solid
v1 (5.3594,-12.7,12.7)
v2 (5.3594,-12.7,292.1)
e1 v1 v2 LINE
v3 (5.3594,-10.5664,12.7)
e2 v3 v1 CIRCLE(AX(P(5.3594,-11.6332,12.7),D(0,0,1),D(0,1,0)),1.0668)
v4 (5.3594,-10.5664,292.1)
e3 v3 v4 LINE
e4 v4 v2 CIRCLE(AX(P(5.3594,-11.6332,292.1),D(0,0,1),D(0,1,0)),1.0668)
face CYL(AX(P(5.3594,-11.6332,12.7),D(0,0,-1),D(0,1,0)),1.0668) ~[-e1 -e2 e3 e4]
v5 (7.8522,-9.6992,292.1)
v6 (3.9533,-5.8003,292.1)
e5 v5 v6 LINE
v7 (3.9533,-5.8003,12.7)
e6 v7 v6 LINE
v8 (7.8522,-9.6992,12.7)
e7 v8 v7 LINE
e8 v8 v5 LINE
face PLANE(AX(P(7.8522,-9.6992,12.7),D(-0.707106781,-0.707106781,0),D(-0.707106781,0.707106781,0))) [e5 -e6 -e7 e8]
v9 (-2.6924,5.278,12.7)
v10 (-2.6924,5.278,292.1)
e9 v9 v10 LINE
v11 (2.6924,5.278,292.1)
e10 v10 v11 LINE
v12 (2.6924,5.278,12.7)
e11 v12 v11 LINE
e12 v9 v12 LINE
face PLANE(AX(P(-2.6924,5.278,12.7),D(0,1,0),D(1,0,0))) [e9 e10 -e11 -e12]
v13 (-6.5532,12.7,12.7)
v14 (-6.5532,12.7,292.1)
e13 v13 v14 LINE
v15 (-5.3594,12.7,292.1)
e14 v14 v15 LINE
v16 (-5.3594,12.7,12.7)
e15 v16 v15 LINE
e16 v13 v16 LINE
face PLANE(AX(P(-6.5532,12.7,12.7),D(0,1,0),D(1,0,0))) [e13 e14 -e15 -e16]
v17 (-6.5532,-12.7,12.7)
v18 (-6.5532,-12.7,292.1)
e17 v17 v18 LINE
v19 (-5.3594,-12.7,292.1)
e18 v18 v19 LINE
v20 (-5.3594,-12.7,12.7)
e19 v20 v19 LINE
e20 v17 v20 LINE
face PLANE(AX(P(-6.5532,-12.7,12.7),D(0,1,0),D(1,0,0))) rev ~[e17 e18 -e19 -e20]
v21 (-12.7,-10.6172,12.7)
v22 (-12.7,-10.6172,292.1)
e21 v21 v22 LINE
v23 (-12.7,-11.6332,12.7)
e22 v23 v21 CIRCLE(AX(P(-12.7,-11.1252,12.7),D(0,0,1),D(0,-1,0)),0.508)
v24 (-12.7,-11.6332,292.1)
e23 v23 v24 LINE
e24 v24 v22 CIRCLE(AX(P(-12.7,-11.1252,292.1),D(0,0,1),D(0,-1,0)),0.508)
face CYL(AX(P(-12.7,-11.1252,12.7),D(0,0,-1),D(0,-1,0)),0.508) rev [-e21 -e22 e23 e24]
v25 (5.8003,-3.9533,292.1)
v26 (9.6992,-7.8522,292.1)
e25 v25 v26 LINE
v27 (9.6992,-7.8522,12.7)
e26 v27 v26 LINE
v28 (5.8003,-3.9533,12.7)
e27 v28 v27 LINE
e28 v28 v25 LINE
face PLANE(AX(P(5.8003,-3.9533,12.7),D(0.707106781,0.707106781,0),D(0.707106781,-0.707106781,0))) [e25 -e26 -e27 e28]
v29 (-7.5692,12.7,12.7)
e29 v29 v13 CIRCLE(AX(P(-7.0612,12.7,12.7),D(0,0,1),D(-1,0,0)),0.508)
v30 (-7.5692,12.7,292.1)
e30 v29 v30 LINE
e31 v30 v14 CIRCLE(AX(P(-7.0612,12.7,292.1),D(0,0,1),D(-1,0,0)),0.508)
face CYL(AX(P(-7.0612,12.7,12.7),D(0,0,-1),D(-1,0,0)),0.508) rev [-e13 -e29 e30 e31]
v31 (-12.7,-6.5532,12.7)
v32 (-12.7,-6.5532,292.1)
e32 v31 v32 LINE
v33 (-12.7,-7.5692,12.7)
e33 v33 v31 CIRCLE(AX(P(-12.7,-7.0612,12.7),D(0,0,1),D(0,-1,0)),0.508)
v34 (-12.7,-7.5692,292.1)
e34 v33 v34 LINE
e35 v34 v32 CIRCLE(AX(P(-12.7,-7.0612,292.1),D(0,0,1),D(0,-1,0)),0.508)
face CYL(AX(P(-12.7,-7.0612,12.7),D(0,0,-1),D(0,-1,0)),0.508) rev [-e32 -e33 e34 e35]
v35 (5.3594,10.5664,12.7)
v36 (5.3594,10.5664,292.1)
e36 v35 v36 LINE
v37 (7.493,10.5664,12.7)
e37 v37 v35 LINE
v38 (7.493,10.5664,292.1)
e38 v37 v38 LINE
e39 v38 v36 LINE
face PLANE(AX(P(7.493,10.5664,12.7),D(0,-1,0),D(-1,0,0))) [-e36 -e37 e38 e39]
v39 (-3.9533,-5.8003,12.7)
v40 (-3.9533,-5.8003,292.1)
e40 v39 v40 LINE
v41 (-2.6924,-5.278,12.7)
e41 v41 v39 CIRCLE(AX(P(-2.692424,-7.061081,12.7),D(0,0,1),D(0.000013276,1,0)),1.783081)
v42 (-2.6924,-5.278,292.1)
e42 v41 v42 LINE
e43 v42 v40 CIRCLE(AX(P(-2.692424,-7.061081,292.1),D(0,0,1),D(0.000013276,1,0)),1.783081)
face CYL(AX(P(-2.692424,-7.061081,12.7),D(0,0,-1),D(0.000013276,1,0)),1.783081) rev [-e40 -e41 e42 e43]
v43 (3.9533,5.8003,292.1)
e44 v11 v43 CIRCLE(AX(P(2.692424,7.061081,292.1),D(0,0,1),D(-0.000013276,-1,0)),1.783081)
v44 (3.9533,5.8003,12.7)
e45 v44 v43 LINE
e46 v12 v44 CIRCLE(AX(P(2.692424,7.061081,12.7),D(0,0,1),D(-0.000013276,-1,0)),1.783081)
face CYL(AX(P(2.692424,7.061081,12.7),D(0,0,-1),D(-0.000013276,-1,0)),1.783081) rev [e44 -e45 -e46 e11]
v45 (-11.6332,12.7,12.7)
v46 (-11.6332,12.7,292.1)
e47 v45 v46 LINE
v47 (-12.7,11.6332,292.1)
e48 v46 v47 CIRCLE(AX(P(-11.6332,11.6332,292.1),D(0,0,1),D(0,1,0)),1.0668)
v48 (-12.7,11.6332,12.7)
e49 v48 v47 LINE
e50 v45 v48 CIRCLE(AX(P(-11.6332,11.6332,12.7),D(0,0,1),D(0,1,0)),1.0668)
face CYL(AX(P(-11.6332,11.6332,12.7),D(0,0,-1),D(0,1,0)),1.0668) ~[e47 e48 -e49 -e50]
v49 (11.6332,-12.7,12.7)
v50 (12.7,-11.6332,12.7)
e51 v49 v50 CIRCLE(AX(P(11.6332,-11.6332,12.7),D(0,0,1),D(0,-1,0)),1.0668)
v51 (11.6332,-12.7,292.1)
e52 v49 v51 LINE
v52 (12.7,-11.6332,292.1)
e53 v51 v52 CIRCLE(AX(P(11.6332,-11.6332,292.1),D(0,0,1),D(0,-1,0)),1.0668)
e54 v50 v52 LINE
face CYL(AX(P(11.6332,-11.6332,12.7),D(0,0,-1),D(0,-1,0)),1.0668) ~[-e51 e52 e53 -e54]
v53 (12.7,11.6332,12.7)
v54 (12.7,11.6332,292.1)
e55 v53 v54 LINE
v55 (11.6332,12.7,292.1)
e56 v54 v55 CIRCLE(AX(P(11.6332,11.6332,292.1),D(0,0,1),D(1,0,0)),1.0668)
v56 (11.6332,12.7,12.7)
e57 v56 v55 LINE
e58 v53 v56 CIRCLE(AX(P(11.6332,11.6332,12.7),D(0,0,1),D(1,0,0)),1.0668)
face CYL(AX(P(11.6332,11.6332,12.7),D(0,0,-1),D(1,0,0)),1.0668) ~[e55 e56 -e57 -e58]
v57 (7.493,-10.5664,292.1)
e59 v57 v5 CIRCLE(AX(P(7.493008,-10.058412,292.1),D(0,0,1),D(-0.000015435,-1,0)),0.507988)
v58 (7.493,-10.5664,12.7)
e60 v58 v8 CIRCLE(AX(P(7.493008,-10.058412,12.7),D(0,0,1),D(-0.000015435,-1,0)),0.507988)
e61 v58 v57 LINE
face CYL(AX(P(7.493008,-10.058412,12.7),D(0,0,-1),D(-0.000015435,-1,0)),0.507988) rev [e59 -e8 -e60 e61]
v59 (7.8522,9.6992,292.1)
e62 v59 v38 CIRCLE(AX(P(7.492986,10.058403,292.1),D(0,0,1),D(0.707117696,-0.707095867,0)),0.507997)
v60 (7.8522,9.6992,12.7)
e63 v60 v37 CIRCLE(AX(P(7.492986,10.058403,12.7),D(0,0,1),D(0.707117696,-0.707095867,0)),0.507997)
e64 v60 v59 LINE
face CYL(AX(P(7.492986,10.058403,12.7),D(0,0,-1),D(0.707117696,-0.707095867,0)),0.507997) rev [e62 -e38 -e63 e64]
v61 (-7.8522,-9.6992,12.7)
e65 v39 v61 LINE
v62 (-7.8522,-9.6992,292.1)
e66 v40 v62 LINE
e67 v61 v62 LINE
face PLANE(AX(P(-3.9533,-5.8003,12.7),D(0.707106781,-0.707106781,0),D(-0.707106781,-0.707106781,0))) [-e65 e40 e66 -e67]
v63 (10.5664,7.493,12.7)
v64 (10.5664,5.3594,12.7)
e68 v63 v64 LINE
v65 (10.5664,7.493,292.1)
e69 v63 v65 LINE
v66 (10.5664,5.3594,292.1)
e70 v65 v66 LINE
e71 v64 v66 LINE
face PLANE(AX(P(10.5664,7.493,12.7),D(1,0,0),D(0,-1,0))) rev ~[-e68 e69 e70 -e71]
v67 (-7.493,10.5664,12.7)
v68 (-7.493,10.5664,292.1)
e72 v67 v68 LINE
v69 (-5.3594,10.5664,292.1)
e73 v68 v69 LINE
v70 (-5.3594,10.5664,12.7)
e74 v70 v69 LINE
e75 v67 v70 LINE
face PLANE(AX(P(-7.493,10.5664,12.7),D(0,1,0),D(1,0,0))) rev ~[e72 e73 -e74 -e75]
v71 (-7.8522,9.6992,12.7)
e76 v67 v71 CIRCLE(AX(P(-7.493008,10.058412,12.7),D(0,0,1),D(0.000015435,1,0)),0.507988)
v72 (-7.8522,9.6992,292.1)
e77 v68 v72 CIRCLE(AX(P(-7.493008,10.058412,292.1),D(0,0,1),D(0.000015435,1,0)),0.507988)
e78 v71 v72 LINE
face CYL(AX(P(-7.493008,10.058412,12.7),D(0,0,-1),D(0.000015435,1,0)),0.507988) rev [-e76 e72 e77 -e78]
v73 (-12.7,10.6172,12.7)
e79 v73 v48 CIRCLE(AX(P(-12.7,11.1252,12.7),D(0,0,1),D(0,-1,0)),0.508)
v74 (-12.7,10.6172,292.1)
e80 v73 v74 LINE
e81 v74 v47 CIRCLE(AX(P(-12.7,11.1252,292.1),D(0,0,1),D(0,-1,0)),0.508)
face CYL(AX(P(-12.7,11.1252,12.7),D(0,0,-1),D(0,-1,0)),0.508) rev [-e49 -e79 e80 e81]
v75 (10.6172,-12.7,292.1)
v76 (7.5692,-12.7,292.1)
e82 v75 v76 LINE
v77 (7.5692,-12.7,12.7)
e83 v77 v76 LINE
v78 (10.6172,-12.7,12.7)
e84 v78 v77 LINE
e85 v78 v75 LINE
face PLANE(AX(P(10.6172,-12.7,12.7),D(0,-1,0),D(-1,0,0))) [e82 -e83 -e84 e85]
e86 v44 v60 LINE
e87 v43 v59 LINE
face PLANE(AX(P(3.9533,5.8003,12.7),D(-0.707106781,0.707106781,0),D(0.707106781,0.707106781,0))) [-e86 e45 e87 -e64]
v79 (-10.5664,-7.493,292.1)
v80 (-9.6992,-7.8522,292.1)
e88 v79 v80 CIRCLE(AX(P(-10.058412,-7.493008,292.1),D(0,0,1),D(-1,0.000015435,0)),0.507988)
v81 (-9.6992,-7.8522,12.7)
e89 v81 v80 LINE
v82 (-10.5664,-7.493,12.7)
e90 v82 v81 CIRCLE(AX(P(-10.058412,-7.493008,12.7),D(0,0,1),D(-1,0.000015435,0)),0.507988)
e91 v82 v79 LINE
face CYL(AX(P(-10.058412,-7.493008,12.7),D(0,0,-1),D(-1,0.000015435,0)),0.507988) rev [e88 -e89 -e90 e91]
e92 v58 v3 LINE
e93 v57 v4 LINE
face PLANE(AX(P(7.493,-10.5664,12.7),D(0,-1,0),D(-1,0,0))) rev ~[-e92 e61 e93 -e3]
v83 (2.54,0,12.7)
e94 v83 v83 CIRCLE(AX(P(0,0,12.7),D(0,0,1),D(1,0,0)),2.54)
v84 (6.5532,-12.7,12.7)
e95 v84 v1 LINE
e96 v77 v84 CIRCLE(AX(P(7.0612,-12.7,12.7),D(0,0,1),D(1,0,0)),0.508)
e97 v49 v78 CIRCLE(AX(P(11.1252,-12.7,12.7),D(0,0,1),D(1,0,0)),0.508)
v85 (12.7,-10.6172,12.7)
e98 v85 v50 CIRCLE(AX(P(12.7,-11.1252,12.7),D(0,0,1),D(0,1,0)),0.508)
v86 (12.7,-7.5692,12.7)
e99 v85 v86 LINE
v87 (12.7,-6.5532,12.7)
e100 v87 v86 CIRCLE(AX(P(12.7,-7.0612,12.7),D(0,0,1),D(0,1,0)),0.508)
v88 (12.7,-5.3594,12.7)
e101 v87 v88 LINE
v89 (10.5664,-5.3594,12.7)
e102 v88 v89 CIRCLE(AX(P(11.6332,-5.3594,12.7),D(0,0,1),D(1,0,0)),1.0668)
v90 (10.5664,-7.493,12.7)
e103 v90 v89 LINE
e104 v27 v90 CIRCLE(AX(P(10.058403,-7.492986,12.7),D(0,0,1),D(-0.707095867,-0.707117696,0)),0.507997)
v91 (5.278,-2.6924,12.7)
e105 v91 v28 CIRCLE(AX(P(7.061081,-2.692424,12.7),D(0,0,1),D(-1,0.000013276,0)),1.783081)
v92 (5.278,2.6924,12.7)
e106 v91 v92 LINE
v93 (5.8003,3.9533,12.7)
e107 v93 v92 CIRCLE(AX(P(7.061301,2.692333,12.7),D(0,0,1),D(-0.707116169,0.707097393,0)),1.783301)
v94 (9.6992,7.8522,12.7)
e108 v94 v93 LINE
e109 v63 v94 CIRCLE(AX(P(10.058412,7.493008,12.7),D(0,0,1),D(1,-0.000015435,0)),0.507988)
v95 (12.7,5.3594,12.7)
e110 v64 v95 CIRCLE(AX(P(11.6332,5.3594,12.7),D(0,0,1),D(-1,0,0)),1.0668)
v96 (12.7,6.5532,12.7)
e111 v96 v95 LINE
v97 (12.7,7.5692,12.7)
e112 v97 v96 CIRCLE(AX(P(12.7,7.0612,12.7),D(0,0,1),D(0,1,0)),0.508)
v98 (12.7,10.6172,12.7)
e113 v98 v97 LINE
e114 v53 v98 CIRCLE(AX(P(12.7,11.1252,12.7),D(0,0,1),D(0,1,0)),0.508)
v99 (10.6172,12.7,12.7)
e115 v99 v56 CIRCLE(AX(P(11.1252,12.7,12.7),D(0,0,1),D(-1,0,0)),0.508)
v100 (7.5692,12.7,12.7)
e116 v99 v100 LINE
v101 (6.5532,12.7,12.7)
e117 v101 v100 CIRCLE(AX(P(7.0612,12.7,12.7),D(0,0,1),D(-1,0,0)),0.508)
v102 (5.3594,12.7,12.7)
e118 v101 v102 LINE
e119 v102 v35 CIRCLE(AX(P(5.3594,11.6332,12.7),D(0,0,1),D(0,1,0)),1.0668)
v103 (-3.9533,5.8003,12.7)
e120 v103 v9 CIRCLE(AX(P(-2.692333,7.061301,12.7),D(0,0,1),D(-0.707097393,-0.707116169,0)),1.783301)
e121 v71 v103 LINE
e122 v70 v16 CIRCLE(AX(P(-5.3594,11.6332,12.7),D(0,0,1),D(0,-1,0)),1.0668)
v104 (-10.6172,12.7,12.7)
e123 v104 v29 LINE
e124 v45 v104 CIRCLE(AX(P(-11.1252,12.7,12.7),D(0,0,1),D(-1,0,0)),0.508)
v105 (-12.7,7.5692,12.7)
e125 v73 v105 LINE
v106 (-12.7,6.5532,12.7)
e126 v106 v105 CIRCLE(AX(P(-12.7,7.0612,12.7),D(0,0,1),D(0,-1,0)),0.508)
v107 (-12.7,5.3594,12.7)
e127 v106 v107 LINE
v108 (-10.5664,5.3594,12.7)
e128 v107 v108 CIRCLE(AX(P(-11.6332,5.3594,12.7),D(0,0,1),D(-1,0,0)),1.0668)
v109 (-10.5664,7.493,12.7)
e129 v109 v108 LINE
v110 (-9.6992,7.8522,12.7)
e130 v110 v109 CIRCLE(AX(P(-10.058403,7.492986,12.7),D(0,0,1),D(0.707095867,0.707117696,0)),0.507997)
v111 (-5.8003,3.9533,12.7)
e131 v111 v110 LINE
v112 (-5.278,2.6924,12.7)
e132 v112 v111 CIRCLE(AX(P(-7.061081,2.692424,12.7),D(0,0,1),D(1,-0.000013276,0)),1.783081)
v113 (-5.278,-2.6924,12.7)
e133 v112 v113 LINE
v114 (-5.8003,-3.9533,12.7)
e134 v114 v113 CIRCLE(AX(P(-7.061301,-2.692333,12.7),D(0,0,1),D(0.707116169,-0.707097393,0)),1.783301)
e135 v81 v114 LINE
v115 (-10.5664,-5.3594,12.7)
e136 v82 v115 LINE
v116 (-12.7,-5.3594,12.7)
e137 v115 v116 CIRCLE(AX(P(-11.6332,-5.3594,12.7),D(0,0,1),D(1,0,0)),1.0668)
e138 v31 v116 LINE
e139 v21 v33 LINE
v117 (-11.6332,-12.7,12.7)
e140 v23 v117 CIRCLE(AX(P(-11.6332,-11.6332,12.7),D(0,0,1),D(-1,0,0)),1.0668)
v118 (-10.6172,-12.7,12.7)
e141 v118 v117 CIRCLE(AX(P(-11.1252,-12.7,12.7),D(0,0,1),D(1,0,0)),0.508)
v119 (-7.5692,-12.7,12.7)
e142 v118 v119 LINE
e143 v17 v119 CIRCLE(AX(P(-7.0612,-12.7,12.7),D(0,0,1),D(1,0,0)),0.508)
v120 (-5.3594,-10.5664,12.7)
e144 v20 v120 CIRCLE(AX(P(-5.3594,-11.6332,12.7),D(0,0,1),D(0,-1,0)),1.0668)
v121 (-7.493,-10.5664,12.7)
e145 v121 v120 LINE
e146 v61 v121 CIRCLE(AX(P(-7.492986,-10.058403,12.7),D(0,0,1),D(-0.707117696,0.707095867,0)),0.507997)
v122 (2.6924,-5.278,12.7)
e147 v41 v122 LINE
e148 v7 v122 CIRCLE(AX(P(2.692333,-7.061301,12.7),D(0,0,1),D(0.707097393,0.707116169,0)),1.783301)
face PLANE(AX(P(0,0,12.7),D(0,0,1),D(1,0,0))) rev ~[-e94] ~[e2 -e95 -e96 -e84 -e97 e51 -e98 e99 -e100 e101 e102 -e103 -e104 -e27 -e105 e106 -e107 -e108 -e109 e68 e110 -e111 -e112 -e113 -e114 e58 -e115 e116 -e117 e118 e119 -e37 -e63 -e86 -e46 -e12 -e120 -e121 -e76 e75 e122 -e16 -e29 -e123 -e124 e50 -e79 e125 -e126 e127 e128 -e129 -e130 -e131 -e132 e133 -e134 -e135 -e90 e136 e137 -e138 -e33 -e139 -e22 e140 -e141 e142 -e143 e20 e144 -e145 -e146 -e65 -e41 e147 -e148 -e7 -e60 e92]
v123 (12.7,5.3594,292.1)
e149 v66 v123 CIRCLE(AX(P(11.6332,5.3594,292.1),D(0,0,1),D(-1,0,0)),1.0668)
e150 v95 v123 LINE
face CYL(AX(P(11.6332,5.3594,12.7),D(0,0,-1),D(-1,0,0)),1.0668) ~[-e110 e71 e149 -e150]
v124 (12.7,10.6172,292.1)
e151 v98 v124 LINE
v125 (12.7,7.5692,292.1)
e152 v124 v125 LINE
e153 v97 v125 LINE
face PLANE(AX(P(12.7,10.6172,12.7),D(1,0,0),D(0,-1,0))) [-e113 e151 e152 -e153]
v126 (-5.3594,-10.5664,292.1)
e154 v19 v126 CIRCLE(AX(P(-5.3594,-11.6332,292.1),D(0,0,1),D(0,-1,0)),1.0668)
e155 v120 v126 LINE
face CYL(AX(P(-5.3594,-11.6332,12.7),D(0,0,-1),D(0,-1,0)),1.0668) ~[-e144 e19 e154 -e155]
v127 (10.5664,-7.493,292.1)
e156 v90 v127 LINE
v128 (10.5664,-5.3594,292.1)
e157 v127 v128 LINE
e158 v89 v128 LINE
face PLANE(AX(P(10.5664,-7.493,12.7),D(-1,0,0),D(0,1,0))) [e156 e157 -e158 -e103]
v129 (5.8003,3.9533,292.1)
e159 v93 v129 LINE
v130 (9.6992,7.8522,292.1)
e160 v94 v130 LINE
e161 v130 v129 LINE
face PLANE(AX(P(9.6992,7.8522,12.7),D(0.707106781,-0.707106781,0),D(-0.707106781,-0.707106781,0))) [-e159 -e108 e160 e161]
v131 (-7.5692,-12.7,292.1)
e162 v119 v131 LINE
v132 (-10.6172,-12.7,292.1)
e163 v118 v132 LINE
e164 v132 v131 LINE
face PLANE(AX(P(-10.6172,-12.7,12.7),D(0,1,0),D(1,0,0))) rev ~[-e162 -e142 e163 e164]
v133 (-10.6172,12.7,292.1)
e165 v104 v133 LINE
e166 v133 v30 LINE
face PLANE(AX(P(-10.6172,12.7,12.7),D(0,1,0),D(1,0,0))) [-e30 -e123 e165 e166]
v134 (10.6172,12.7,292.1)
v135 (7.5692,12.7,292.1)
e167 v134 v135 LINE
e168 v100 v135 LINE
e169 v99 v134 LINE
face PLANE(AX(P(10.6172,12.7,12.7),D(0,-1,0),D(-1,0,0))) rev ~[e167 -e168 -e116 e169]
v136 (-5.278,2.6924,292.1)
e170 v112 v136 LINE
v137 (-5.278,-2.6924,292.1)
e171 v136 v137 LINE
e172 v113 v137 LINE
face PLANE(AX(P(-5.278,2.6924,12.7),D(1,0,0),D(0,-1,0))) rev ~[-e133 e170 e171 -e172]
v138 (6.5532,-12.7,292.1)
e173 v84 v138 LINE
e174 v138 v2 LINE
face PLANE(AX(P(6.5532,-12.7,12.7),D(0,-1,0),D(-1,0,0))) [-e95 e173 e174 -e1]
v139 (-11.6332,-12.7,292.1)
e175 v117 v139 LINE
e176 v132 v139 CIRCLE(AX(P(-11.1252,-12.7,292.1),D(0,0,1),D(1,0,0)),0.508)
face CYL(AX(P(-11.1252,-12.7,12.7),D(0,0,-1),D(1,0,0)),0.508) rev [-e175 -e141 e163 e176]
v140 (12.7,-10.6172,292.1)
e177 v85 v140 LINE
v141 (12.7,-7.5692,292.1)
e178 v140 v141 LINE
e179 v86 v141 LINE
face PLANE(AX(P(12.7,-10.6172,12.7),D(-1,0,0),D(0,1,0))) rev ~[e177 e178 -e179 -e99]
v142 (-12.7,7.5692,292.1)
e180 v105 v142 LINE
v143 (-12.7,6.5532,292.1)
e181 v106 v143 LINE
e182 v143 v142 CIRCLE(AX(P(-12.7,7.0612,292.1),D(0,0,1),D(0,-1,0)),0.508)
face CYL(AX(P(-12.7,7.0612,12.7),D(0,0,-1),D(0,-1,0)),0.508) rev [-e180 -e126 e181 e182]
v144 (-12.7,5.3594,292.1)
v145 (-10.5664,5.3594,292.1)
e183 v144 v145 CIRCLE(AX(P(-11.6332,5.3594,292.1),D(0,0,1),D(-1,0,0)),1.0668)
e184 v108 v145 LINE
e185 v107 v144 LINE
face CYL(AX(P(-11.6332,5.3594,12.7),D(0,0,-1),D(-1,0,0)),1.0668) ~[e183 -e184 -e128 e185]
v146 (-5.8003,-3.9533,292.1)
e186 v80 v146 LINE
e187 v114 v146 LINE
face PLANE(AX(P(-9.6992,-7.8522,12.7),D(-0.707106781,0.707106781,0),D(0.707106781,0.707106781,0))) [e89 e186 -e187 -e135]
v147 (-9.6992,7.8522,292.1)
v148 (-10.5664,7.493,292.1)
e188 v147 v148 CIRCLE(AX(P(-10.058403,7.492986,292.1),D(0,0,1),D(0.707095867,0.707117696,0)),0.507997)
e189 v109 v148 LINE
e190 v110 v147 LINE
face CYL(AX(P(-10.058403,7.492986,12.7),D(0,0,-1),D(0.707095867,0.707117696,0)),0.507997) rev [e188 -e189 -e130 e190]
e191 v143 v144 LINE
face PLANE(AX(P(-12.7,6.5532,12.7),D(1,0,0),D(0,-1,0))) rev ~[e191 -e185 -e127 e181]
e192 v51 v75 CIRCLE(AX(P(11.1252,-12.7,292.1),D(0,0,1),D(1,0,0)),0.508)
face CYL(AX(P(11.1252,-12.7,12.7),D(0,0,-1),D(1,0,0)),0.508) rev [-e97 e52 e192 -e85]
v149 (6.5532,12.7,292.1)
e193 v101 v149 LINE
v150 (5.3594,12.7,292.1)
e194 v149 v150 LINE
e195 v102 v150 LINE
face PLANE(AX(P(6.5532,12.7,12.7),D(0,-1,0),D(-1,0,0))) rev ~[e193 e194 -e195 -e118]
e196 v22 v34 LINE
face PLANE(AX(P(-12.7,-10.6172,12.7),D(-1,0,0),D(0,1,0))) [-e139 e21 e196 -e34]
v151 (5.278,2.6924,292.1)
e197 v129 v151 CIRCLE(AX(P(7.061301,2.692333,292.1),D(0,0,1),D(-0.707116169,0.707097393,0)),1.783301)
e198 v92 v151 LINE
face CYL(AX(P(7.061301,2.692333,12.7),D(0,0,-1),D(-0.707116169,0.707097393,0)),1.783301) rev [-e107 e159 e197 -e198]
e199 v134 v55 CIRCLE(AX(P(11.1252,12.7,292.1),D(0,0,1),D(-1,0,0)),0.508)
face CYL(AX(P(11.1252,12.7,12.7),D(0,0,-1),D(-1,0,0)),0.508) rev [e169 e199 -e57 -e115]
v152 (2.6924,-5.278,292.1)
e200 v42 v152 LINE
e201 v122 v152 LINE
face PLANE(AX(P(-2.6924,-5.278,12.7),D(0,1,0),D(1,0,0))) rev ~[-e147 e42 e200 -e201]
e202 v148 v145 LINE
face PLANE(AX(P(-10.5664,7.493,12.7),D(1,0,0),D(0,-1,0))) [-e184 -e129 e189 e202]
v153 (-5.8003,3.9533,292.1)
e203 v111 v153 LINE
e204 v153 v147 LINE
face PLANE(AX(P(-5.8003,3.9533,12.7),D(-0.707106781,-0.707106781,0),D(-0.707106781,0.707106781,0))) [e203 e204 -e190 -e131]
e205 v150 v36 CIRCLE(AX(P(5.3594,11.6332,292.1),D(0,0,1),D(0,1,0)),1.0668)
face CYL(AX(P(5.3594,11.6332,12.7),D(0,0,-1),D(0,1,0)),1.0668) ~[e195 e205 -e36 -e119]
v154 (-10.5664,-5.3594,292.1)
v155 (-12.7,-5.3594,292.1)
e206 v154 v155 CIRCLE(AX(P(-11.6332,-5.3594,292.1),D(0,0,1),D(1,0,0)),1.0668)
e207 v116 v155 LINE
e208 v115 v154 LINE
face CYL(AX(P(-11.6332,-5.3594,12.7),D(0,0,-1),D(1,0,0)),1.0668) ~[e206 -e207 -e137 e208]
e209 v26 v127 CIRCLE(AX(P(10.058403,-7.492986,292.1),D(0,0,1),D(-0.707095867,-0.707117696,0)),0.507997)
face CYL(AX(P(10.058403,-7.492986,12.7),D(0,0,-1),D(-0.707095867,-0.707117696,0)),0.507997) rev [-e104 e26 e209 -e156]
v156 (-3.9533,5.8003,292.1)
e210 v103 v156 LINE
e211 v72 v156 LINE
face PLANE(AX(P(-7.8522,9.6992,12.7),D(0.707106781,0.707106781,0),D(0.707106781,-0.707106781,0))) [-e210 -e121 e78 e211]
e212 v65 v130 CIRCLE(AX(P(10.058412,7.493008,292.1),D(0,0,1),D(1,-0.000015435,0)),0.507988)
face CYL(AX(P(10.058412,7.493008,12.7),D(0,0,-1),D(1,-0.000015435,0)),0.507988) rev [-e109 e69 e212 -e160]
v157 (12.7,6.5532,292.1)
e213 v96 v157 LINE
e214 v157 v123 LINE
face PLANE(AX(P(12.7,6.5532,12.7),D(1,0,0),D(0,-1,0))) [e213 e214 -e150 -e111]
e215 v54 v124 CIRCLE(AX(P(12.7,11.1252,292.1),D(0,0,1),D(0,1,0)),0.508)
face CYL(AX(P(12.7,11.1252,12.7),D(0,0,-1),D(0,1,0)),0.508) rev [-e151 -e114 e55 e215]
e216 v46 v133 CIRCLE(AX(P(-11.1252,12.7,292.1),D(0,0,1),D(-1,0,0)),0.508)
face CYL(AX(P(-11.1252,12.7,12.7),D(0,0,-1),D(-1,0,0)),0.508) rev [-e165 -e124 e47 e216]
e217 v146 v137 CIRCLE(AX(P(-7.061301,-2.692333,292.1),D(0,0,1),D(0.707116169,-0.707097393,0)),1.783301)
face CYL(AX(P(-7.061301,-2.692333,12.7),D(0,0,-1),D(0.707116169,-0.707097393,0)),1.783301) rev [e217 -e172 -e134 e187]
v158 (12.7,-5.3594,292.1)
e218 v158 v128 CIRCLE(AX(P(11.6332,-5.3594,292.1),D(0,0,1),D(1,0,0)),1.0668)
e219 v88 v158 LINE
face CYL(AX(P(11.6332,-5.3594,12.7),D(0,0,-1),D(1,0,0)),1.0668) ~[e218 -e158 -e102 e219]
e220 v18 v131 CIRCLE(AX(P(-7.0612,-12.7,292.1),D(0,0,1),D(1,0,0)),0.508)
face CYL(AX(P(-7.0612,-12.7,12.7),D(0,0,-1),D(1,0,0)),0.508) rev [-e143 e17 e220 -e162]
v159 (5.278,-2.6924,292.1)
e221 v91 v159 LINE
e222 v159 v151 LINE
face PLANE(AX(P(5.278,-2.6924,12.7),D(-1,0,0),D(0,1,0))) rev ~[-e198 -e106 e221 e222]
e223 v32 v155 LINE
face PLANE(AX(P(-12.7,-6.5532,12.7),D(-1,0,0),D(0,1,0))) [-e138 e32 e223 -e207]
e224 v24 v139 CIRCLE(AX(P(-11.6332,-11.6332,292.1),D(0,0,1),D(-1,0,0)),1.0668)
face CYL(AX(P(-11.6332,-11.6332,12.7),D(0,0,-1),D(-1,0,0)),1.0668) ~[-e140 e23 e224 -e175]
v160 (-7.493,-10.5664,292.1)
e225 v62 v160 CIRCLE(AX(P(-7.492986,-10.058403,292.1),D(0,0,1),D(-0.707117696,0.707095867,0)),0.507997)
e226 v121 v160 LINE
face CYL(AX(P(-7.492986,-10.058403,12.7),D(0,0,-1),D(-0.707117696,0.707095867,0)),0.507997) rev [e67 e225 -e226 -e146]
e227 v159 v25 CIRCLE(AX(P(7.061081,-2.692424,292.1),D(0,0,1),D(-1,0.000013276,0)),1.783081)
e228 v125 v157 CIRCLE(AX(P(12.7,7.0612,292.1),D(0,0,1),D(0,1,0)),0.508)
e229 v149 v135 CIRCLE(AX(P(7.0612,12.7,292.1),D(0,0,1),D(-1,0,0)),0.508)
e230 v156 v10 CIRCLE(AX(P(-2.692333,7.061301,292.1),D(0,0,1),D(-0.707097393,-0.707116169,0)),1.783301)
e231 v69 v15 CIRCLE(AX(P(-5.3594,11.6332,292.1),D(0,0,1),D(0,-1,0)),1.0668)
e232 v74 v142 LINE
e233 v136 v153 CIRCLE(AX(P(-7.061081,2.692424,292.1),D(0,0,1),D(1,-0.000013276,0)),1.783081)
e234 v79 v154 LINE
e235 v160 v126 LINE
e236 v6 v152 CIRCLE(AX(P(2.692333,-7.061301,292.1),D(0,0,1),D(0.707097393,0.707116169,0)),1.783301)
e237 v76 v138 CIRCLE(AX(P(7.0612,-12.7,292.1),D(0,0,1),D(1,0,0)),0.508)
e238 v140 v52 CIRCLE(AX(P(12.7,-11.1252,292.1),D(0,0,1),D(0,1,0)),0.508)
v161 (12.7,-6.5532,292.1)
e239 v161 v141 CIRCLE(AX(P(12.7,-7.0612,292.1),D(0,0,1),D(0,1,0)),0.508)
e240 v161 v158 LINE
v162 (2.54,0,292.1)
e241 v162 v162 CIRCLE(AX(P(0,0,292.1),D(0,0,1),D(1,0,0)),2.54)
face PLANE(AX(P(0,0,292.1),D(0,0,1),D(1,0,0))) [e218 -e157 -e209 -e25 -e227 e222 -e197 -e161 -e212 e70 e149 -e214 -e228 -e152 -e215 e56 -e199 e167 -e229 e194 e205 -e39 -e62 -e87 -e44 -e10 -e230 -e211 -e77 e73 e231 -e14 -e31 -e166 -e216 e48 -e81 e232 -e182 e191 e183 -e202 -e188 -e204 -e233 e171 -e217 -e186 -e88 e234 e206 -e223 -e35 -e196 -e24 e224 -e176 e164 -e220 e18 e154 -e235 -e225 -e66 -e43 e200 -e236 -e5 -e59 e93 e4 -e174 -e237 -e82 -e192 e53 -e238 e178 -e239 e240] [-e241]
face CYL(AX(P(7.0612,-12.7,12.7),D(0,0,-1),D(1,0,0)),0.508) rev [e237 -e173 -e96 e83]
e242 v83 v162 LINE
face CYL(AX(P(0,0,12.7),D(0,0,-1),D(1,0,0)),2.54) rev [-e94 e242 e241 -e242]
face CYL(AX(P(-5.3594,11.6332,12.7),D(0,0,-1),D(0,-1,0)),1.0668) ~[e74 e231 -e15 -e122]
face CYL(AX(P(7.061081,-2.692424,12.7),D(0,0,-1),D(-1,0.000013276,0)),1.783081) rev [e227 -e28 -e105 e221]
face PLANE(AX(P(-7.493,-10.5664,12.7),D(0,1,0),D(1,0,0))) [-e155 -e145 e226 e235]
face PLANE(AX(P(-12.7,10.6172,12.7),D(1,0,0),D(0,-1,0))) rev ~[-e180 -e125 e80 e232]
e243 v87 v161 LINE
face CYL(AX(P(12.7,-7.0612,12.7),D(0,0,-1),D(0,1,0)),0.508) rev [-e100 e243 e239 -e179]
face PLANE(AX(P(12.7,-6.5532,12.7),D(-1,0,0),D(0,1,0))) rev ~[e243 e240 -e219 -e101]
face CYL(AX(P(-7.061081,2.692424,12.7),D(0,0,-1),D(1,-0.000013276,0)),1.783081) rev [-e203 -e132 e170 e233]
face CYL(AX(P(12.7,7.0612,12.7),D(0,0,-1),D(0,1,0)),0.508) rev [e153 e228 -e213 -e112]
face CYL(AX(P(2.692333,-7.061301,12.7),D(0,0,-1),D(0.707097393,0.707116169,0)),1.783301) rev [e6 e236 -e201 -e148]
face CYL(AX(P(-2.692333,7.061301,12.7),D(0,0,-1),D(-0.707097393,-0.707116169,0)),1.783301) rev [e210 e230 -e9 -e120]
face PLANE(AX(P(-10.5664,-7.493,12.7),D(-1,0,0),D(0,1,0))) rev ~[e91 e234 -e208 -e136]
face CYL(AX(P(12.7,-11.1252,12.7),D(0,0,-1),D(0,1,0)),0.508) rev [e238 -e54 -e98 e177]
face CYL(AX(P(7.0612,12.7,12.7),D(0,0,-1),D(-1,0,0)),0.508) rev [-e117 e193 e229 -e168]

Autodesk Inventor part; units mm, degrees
ref_plane "Start Plane" through (0, 0, 12.7) normal (0, 0, 1) x (1, 0, 0)
ref_plane "End Plane" through (0, 0, 292.1) normal (0, 0, 1) x (1, 0, 0)
sketch "Sketch" plane through (0, 0, 0) normal (0, 0, 1) x (1, 0, 0)
  arc A0 (-11.6332, 12.7) -> (-12.7, 11.6332) centre (-11.6332, 11.6332) ccw
  arc A1 (-5.3594, 10.5664) -> (-5.3594, 12.7) centre (-5.3594, 11.6332) ccw
  arc A2 (-12.7, 5.3594) -> (-10.5664, 5.3594) centre (-11.6332, 5.3594) ccw
  line L0 (-10.5664, 7.493) -> (-10.5664, 5.3594)
  line L1 (-7.493, 10.5664) -> (-5.3594, 10.5664)
  arc A3 (-9.6992, 7.8522) -> (-10.5664, 7.493) centre (-10.0584, 7.493) ccw
  arc A4 (-7.493, 10.5664) -> (-7.8522, 9.6992) centre (-7.493, 10.0584) ccw
  line L2 (-11.6332, 11.6332) -> (0, 0) construction
  line L3 (-5.8003, 3.9533) -> (-9.6992, 7.8522)
  line L4 (-7.8522, 9.6992) -> (-3.9533, 5.8003)
  arc A5 (-3.9533, 5.8003) -> (-2.6924, 5.278) centre (-2.6924, 7.0612) ccw
  arc A6 (-5.278, 2.6924) -> (-5.8003, 3.9533) centre (-7.0612, 2.6924) ccw
  arc A7 (0, 2.54) -> (-2.54, 0) centre (0, 0) ccw construction
  line L5 (0, 0) -> (-12.7, 0) construction
  line L6 (0, 12.7) -> (0, 0) construction
  arc A8 (-11.6332, 12.7) -> (-10.6172, 12.7) centre (-11.1252, 12.7) ccw
  arc A9 (-7.5692, 12.7) -> (-6.5532, 12.7) centre (-7.0612, 12.7) ccw
  arc A10 (-12.7, 10.6172) -> (-12.7, 11.6332) centre (-12.7, 11.1252) ccw
  arc A11 (-12.7, 6.5532) -> (-12.7, 7.5692) centre (-12.7, 7.0612) ccw
  line L7 (-12.7, 10.6172) -> (-12.7, 7.5692)
  line L8 (-12.7, 6.5532) -> (-12.7, 5.3594)
  line L9 (-10.6172, 12.7) -> (-7.5692, 12.7)
  line L10 (-6.5532, 12.7) -> (-5.3594, 12.7)
  circle A12 centre (0, 0) radius 2.54
  arc A13 (-12.7, -11.6332) -> (-11.6332, -12.7) centre (-11.6332, -11.6332) ccw
  line L11 (-12.7, -10.6172) -> (-12.7, -7.5692)
  arc A14 (-10.5664, -7.493) -> (-9.6992, -7.8522) centre (-10.0584, -7.493) ccw
  line L12 (-9.6992, -7.8522) -> (-5.8003, -3.9533)
  line L13 (-11.6332, -11.6332) -> (0, 0) construction
  line L14 (-3.9533, -5.8003) -> (-7.8522, -9.6992)
  arc A15 (-7.8522, -9.6992) -> (-7.493, -10.5664) centre (-7.493, -10.0584) ccw
  line L15 (-10.6172, -12.7) -> (-7.5692, -12.7)
  line L16 (-7.493, -10.5664) -> (-5.3594, -10.5664)
  arc A16 (-6.5532, -12.7) -> (-7.5692, -12.7) centre (-7.0612, -12.7) ccw
  line L17 (-6.5532, -12.7) -> (-5.3594, -12.7)
  arc A17 (-5.3594, -12.7) -> (-5.3594, -10.5664) centre (-5.3594, -11.6332) ccw
  arc A18 (-10.6172, -12.7) -> (-11.6332, -12.7) centre (-11.1252, -12.7) ccw
  arc A19 (-12.7, -11.6332) -> (-12.7, -10.6172) centre (-12.7, -11.1252) ccw
  arc A20 (-2.6924, -5.278) -> (-3.9533, -5.8003) centre (-2.6924, -7.0612) ccw
  arc A21 (-5.8003, -3.9533) -> (-5.278, -2.6924) centre (-7.0612, -2.6924) ccw
  line L18 (-10.5664, -7.493) -> (-10.5664, -5.3594)
  line L19 (-12.7, -6.5532) -> (-12.7, -5.3594)
  arc A22 (-10.5664, -5.3594) -> (-12.7, -5.3594) centre (-11.6332, -5.3594) ccw
  arc A23 (-12.7, -7.5692) -> (-12.7, -6.5532) centre (-12.7, -7.0612) ccw
  arc A24 (11.6332, -12.7) -> (12.7, -11.6332) centre (11.6332, -11.6332) ccw
  line L20 (10.6172, -12.7) -> (7.5692, -12.7)
  arc A25 (7.493, -10.5664) -> (7.8522, -9.6992) centre (7.493, -10.0584) ccw
  line L21 (7.8522, -9.6992) -> (3.9533, -5.8003)
  line L22 (11.6332, -11.6332) -> (0, 0) construction
  line L23 (5.8003, -3.9533) -> (9.6992, -7.8522)
  arc A26 (9.6992, -7.8522) -> (10.5664, -7.493) centre (10.0584, -7.493) ccw
  line L24 (12.7, -10.6172) -> (12.7, -7.5692)
  line L25 (10.5664, -7.493) -> (10.5664, -5.3594)
  arc A27 (12.7, -6.5532) -> (12.7, -7.5692) centre (12.7, -7.0612) ccw
  line L26 (12.7, -6.5532) -> (12.7, -5.3594)
  arc A28 (12.7, -5.3594) -> (10.5664, -5.3594) centre (11.6332, -5.3594) ccw
  arc A29 (12.7, -10.6172) -> (12.7, -11.6332) centre (12.7, -11.1252) ccw
  arc A30 (11.6332, -12.7) -> (10.6172, -12.7) centre (11.1252, -12.7) ccw
  arc A31 (5.278, -2.6924) -> (5.8003, -3.9533) centre (7.0612, -2.6924) ccw
  arc A32 (3.9533, -5.8003) -> (2.6924, -5.278) centre (2.6924, -7.0612) ccw
  line L27 (7.493, -10.5664) -> (5.3594, -10.5664)
  line L28 (6.5532, -12.7) -> (5.3594, -12.7)
  arc A33 (5.3594, -10.5664) -> (5.3594, -12.7) centre (5.3594, -11.6332) ccw
  arc A34 (7.5692, -12.7) -> (6.5532, -12.7) centre (7.0612, -12.7) ccw
  arc A35 (12.7, 11.6332) -> (11.6332, 12.7) centre (11.6332, 11.6332) ccw
  line L29 (12.7, 10.6172) -> (12.7, 7.5692)
  arc A36 (10.5664, 7.493) -> (9.6992, 7.8522) centre (10.0584, 7.493) ccw
  line L30 (9.6992, 7.8522) -> (5.8003, 3.9533)
  line L31 (11.6332, 11.6332) -> (0, 0) construction
  line L32 (3.9533, 5.8003) -> (7.8522, 9.6992)
  arc A37 (7.8522, 9.6992) -> (7.493, 10.5664) centre (7.493, 10.0584) ccw
  line L33 (10.6172, 12.7) -> (7.5692, 12.7)
  line L34 (7.493, 10.5664) -> (5.3594, 10.5664)
  arc A38 (6.5532, 12.7) -> (7.5692, 12.7) centre (7.0612, 12.7) ccw
  line L35 (6.5532, 12.7) -> (5.3594, 12.7)
  arc A39 (5.3594, 12.7) -> (5.3594, 10.5664) centre (5.3594, 11.6332) ccw
  arc A40 (10.6172, 12.7) -> (11.6332, 12.7) centre (11.1252, 12.7) ccw
  arc A41 (12.7, 11.6332) -> (12.7, 10.6172) centre (12.7, 11.1252) ccw
  arc A42 (2.6924, 5.278) -> (3.9533, 5.8003) centre (2.6924, 7.0612) ccw
  arc A43 (5.8003, 3.9533) -> (5.278, 2.6924) centre (7.0612, 2.6924) ccw
  line L36 (10.5664, 7.493) -> (10.5664, 5.3594)
  line L37 (12.7, 6.5532) -> (12.7, 5.3594)
  arc A44 (10.5664, 5.3594) -> (12.7, 5.3594) centre (11.6332, 5.3594) ccw
  arc A45 (12.7, 7.5692) -> (12.7, 6.5532) centre (12.7, 7.0612) ccw
  line L38 (-2.6924, 5.278) -> (2.6924, 5.278)
  line L39 (-5.278, 2.6924) -> (-5.278, -2.6924)
  line L40 (-2.6924, -5.278) -> (2.6924, -5.278)
  line L41 (5.278, -2.6924) -> (5.278, 2.6924)
  point P0 (0, 0)
  point P1 (0, 0)
  dimension "d2" = 2.1336
  dimension "d3" = 6.2738
  dimension "d4" = 6.2738
  dimension "d5" = 1.0668
  dimension "d6" = 2.1336
  dimension "d7" = 2.1336
  dimension "d8" = 1.016
  dimension "d9" = 1.016
  dimension "d10" = 135
  dimension "d11" = 2.667
  dimension "d12" = 4.572
  dimension "d13" = 4.572
  dimension "d14" = 2.667
  dimension "d15" = 5.08
  dimension "d16" = 45
  dimension "d19" = 45
  dimension "d20" = 0.508
  dimension "d21" = 4.572
  dimension "d22" = 1.016
  dimension "d23" = 4.572
  dimension "d24" = 1.016
  dimension "d25" = 0.508
  dimension "d26" = 0.508
  dimension "d27" = 0.508
  dimension "d28" = 12.7
  dimension "d37" = 360
  dimension "d47" = 10.5664
  dimension "d48" = 12.7
extrude "Body" add sketch "Sketch" along normal up to surface (279.4 mm away) from surface at 12.7
sketch "Sketch2" plane through (0, 0, 0) normal (0, 0, 1) x (1, 0, 0)
  line L0 (0, 0) -> (10, 0)
ref_plane "Work Plane3" through (0, 0, 0) normal (0, -1, 0) x (1, 0, 0)
sketch "Sketch3" plane through (0, 0, 0) normal (0, -1, 0) x (1, 0, 0)
  line L0 (-2, 12.7) -> (12, 12.7)
  line L1 (-2, 292.1) -> (12, 292.1)
  dimension "d60" = 279.4
ref_plane "Work Plane4" through (10.6172, -279.4, 12.7) normal (0, 0, -1) x (-1, 0, 0)
split "Split1" plane through (10.6172, -279.4, 12.7) removes the side toward (0, 0, -1)
ref_plane "Work Plane5" through (0, -10.6172, 292.1) normal (0, 0, 1) x (1, 0, 0)
split "Split2" plane through (0, -10.6172, 292.1) removes the side toward (0, 0, 1)
ref_plane "Work Plane6" through (7.5692, 0, 292.1) normal (0, 0, 1) x (1, 0, 0)
split "Split3" plane through (7.5692, 0, 292.1) removes the side toward (0, 0, 1)
equation "\"d3\" = d4"
equation "\"d6\" = d7"
equation "\"d11\" = d14"
equation "\"d12\" = d13"
equation "\"d23\" = d21"
equation "\"d24\" = d30"
equation "\"d26\" = 0.5 * d24"
equation "\"d27\" = 0.5 * d22"
equation "\"Width\" = 2 * d28"
equation "\"Height\" = 2 * d48"
equation "\"G_OFFSET_START\" = -12.7"
equation "\"G_OFFSET_END\" = 12.7"
equation "\"d55\" = -G_OFFSET_START"
equation "\"d56\" = Length + G_OFFSET_END"
equation "\"G_L\" = 279.4"
equation "\"d30\" = 1.016"
equation "\"Length\" = 279.4"
properties part number "1010_80_20" material "Aluminum-6061"
